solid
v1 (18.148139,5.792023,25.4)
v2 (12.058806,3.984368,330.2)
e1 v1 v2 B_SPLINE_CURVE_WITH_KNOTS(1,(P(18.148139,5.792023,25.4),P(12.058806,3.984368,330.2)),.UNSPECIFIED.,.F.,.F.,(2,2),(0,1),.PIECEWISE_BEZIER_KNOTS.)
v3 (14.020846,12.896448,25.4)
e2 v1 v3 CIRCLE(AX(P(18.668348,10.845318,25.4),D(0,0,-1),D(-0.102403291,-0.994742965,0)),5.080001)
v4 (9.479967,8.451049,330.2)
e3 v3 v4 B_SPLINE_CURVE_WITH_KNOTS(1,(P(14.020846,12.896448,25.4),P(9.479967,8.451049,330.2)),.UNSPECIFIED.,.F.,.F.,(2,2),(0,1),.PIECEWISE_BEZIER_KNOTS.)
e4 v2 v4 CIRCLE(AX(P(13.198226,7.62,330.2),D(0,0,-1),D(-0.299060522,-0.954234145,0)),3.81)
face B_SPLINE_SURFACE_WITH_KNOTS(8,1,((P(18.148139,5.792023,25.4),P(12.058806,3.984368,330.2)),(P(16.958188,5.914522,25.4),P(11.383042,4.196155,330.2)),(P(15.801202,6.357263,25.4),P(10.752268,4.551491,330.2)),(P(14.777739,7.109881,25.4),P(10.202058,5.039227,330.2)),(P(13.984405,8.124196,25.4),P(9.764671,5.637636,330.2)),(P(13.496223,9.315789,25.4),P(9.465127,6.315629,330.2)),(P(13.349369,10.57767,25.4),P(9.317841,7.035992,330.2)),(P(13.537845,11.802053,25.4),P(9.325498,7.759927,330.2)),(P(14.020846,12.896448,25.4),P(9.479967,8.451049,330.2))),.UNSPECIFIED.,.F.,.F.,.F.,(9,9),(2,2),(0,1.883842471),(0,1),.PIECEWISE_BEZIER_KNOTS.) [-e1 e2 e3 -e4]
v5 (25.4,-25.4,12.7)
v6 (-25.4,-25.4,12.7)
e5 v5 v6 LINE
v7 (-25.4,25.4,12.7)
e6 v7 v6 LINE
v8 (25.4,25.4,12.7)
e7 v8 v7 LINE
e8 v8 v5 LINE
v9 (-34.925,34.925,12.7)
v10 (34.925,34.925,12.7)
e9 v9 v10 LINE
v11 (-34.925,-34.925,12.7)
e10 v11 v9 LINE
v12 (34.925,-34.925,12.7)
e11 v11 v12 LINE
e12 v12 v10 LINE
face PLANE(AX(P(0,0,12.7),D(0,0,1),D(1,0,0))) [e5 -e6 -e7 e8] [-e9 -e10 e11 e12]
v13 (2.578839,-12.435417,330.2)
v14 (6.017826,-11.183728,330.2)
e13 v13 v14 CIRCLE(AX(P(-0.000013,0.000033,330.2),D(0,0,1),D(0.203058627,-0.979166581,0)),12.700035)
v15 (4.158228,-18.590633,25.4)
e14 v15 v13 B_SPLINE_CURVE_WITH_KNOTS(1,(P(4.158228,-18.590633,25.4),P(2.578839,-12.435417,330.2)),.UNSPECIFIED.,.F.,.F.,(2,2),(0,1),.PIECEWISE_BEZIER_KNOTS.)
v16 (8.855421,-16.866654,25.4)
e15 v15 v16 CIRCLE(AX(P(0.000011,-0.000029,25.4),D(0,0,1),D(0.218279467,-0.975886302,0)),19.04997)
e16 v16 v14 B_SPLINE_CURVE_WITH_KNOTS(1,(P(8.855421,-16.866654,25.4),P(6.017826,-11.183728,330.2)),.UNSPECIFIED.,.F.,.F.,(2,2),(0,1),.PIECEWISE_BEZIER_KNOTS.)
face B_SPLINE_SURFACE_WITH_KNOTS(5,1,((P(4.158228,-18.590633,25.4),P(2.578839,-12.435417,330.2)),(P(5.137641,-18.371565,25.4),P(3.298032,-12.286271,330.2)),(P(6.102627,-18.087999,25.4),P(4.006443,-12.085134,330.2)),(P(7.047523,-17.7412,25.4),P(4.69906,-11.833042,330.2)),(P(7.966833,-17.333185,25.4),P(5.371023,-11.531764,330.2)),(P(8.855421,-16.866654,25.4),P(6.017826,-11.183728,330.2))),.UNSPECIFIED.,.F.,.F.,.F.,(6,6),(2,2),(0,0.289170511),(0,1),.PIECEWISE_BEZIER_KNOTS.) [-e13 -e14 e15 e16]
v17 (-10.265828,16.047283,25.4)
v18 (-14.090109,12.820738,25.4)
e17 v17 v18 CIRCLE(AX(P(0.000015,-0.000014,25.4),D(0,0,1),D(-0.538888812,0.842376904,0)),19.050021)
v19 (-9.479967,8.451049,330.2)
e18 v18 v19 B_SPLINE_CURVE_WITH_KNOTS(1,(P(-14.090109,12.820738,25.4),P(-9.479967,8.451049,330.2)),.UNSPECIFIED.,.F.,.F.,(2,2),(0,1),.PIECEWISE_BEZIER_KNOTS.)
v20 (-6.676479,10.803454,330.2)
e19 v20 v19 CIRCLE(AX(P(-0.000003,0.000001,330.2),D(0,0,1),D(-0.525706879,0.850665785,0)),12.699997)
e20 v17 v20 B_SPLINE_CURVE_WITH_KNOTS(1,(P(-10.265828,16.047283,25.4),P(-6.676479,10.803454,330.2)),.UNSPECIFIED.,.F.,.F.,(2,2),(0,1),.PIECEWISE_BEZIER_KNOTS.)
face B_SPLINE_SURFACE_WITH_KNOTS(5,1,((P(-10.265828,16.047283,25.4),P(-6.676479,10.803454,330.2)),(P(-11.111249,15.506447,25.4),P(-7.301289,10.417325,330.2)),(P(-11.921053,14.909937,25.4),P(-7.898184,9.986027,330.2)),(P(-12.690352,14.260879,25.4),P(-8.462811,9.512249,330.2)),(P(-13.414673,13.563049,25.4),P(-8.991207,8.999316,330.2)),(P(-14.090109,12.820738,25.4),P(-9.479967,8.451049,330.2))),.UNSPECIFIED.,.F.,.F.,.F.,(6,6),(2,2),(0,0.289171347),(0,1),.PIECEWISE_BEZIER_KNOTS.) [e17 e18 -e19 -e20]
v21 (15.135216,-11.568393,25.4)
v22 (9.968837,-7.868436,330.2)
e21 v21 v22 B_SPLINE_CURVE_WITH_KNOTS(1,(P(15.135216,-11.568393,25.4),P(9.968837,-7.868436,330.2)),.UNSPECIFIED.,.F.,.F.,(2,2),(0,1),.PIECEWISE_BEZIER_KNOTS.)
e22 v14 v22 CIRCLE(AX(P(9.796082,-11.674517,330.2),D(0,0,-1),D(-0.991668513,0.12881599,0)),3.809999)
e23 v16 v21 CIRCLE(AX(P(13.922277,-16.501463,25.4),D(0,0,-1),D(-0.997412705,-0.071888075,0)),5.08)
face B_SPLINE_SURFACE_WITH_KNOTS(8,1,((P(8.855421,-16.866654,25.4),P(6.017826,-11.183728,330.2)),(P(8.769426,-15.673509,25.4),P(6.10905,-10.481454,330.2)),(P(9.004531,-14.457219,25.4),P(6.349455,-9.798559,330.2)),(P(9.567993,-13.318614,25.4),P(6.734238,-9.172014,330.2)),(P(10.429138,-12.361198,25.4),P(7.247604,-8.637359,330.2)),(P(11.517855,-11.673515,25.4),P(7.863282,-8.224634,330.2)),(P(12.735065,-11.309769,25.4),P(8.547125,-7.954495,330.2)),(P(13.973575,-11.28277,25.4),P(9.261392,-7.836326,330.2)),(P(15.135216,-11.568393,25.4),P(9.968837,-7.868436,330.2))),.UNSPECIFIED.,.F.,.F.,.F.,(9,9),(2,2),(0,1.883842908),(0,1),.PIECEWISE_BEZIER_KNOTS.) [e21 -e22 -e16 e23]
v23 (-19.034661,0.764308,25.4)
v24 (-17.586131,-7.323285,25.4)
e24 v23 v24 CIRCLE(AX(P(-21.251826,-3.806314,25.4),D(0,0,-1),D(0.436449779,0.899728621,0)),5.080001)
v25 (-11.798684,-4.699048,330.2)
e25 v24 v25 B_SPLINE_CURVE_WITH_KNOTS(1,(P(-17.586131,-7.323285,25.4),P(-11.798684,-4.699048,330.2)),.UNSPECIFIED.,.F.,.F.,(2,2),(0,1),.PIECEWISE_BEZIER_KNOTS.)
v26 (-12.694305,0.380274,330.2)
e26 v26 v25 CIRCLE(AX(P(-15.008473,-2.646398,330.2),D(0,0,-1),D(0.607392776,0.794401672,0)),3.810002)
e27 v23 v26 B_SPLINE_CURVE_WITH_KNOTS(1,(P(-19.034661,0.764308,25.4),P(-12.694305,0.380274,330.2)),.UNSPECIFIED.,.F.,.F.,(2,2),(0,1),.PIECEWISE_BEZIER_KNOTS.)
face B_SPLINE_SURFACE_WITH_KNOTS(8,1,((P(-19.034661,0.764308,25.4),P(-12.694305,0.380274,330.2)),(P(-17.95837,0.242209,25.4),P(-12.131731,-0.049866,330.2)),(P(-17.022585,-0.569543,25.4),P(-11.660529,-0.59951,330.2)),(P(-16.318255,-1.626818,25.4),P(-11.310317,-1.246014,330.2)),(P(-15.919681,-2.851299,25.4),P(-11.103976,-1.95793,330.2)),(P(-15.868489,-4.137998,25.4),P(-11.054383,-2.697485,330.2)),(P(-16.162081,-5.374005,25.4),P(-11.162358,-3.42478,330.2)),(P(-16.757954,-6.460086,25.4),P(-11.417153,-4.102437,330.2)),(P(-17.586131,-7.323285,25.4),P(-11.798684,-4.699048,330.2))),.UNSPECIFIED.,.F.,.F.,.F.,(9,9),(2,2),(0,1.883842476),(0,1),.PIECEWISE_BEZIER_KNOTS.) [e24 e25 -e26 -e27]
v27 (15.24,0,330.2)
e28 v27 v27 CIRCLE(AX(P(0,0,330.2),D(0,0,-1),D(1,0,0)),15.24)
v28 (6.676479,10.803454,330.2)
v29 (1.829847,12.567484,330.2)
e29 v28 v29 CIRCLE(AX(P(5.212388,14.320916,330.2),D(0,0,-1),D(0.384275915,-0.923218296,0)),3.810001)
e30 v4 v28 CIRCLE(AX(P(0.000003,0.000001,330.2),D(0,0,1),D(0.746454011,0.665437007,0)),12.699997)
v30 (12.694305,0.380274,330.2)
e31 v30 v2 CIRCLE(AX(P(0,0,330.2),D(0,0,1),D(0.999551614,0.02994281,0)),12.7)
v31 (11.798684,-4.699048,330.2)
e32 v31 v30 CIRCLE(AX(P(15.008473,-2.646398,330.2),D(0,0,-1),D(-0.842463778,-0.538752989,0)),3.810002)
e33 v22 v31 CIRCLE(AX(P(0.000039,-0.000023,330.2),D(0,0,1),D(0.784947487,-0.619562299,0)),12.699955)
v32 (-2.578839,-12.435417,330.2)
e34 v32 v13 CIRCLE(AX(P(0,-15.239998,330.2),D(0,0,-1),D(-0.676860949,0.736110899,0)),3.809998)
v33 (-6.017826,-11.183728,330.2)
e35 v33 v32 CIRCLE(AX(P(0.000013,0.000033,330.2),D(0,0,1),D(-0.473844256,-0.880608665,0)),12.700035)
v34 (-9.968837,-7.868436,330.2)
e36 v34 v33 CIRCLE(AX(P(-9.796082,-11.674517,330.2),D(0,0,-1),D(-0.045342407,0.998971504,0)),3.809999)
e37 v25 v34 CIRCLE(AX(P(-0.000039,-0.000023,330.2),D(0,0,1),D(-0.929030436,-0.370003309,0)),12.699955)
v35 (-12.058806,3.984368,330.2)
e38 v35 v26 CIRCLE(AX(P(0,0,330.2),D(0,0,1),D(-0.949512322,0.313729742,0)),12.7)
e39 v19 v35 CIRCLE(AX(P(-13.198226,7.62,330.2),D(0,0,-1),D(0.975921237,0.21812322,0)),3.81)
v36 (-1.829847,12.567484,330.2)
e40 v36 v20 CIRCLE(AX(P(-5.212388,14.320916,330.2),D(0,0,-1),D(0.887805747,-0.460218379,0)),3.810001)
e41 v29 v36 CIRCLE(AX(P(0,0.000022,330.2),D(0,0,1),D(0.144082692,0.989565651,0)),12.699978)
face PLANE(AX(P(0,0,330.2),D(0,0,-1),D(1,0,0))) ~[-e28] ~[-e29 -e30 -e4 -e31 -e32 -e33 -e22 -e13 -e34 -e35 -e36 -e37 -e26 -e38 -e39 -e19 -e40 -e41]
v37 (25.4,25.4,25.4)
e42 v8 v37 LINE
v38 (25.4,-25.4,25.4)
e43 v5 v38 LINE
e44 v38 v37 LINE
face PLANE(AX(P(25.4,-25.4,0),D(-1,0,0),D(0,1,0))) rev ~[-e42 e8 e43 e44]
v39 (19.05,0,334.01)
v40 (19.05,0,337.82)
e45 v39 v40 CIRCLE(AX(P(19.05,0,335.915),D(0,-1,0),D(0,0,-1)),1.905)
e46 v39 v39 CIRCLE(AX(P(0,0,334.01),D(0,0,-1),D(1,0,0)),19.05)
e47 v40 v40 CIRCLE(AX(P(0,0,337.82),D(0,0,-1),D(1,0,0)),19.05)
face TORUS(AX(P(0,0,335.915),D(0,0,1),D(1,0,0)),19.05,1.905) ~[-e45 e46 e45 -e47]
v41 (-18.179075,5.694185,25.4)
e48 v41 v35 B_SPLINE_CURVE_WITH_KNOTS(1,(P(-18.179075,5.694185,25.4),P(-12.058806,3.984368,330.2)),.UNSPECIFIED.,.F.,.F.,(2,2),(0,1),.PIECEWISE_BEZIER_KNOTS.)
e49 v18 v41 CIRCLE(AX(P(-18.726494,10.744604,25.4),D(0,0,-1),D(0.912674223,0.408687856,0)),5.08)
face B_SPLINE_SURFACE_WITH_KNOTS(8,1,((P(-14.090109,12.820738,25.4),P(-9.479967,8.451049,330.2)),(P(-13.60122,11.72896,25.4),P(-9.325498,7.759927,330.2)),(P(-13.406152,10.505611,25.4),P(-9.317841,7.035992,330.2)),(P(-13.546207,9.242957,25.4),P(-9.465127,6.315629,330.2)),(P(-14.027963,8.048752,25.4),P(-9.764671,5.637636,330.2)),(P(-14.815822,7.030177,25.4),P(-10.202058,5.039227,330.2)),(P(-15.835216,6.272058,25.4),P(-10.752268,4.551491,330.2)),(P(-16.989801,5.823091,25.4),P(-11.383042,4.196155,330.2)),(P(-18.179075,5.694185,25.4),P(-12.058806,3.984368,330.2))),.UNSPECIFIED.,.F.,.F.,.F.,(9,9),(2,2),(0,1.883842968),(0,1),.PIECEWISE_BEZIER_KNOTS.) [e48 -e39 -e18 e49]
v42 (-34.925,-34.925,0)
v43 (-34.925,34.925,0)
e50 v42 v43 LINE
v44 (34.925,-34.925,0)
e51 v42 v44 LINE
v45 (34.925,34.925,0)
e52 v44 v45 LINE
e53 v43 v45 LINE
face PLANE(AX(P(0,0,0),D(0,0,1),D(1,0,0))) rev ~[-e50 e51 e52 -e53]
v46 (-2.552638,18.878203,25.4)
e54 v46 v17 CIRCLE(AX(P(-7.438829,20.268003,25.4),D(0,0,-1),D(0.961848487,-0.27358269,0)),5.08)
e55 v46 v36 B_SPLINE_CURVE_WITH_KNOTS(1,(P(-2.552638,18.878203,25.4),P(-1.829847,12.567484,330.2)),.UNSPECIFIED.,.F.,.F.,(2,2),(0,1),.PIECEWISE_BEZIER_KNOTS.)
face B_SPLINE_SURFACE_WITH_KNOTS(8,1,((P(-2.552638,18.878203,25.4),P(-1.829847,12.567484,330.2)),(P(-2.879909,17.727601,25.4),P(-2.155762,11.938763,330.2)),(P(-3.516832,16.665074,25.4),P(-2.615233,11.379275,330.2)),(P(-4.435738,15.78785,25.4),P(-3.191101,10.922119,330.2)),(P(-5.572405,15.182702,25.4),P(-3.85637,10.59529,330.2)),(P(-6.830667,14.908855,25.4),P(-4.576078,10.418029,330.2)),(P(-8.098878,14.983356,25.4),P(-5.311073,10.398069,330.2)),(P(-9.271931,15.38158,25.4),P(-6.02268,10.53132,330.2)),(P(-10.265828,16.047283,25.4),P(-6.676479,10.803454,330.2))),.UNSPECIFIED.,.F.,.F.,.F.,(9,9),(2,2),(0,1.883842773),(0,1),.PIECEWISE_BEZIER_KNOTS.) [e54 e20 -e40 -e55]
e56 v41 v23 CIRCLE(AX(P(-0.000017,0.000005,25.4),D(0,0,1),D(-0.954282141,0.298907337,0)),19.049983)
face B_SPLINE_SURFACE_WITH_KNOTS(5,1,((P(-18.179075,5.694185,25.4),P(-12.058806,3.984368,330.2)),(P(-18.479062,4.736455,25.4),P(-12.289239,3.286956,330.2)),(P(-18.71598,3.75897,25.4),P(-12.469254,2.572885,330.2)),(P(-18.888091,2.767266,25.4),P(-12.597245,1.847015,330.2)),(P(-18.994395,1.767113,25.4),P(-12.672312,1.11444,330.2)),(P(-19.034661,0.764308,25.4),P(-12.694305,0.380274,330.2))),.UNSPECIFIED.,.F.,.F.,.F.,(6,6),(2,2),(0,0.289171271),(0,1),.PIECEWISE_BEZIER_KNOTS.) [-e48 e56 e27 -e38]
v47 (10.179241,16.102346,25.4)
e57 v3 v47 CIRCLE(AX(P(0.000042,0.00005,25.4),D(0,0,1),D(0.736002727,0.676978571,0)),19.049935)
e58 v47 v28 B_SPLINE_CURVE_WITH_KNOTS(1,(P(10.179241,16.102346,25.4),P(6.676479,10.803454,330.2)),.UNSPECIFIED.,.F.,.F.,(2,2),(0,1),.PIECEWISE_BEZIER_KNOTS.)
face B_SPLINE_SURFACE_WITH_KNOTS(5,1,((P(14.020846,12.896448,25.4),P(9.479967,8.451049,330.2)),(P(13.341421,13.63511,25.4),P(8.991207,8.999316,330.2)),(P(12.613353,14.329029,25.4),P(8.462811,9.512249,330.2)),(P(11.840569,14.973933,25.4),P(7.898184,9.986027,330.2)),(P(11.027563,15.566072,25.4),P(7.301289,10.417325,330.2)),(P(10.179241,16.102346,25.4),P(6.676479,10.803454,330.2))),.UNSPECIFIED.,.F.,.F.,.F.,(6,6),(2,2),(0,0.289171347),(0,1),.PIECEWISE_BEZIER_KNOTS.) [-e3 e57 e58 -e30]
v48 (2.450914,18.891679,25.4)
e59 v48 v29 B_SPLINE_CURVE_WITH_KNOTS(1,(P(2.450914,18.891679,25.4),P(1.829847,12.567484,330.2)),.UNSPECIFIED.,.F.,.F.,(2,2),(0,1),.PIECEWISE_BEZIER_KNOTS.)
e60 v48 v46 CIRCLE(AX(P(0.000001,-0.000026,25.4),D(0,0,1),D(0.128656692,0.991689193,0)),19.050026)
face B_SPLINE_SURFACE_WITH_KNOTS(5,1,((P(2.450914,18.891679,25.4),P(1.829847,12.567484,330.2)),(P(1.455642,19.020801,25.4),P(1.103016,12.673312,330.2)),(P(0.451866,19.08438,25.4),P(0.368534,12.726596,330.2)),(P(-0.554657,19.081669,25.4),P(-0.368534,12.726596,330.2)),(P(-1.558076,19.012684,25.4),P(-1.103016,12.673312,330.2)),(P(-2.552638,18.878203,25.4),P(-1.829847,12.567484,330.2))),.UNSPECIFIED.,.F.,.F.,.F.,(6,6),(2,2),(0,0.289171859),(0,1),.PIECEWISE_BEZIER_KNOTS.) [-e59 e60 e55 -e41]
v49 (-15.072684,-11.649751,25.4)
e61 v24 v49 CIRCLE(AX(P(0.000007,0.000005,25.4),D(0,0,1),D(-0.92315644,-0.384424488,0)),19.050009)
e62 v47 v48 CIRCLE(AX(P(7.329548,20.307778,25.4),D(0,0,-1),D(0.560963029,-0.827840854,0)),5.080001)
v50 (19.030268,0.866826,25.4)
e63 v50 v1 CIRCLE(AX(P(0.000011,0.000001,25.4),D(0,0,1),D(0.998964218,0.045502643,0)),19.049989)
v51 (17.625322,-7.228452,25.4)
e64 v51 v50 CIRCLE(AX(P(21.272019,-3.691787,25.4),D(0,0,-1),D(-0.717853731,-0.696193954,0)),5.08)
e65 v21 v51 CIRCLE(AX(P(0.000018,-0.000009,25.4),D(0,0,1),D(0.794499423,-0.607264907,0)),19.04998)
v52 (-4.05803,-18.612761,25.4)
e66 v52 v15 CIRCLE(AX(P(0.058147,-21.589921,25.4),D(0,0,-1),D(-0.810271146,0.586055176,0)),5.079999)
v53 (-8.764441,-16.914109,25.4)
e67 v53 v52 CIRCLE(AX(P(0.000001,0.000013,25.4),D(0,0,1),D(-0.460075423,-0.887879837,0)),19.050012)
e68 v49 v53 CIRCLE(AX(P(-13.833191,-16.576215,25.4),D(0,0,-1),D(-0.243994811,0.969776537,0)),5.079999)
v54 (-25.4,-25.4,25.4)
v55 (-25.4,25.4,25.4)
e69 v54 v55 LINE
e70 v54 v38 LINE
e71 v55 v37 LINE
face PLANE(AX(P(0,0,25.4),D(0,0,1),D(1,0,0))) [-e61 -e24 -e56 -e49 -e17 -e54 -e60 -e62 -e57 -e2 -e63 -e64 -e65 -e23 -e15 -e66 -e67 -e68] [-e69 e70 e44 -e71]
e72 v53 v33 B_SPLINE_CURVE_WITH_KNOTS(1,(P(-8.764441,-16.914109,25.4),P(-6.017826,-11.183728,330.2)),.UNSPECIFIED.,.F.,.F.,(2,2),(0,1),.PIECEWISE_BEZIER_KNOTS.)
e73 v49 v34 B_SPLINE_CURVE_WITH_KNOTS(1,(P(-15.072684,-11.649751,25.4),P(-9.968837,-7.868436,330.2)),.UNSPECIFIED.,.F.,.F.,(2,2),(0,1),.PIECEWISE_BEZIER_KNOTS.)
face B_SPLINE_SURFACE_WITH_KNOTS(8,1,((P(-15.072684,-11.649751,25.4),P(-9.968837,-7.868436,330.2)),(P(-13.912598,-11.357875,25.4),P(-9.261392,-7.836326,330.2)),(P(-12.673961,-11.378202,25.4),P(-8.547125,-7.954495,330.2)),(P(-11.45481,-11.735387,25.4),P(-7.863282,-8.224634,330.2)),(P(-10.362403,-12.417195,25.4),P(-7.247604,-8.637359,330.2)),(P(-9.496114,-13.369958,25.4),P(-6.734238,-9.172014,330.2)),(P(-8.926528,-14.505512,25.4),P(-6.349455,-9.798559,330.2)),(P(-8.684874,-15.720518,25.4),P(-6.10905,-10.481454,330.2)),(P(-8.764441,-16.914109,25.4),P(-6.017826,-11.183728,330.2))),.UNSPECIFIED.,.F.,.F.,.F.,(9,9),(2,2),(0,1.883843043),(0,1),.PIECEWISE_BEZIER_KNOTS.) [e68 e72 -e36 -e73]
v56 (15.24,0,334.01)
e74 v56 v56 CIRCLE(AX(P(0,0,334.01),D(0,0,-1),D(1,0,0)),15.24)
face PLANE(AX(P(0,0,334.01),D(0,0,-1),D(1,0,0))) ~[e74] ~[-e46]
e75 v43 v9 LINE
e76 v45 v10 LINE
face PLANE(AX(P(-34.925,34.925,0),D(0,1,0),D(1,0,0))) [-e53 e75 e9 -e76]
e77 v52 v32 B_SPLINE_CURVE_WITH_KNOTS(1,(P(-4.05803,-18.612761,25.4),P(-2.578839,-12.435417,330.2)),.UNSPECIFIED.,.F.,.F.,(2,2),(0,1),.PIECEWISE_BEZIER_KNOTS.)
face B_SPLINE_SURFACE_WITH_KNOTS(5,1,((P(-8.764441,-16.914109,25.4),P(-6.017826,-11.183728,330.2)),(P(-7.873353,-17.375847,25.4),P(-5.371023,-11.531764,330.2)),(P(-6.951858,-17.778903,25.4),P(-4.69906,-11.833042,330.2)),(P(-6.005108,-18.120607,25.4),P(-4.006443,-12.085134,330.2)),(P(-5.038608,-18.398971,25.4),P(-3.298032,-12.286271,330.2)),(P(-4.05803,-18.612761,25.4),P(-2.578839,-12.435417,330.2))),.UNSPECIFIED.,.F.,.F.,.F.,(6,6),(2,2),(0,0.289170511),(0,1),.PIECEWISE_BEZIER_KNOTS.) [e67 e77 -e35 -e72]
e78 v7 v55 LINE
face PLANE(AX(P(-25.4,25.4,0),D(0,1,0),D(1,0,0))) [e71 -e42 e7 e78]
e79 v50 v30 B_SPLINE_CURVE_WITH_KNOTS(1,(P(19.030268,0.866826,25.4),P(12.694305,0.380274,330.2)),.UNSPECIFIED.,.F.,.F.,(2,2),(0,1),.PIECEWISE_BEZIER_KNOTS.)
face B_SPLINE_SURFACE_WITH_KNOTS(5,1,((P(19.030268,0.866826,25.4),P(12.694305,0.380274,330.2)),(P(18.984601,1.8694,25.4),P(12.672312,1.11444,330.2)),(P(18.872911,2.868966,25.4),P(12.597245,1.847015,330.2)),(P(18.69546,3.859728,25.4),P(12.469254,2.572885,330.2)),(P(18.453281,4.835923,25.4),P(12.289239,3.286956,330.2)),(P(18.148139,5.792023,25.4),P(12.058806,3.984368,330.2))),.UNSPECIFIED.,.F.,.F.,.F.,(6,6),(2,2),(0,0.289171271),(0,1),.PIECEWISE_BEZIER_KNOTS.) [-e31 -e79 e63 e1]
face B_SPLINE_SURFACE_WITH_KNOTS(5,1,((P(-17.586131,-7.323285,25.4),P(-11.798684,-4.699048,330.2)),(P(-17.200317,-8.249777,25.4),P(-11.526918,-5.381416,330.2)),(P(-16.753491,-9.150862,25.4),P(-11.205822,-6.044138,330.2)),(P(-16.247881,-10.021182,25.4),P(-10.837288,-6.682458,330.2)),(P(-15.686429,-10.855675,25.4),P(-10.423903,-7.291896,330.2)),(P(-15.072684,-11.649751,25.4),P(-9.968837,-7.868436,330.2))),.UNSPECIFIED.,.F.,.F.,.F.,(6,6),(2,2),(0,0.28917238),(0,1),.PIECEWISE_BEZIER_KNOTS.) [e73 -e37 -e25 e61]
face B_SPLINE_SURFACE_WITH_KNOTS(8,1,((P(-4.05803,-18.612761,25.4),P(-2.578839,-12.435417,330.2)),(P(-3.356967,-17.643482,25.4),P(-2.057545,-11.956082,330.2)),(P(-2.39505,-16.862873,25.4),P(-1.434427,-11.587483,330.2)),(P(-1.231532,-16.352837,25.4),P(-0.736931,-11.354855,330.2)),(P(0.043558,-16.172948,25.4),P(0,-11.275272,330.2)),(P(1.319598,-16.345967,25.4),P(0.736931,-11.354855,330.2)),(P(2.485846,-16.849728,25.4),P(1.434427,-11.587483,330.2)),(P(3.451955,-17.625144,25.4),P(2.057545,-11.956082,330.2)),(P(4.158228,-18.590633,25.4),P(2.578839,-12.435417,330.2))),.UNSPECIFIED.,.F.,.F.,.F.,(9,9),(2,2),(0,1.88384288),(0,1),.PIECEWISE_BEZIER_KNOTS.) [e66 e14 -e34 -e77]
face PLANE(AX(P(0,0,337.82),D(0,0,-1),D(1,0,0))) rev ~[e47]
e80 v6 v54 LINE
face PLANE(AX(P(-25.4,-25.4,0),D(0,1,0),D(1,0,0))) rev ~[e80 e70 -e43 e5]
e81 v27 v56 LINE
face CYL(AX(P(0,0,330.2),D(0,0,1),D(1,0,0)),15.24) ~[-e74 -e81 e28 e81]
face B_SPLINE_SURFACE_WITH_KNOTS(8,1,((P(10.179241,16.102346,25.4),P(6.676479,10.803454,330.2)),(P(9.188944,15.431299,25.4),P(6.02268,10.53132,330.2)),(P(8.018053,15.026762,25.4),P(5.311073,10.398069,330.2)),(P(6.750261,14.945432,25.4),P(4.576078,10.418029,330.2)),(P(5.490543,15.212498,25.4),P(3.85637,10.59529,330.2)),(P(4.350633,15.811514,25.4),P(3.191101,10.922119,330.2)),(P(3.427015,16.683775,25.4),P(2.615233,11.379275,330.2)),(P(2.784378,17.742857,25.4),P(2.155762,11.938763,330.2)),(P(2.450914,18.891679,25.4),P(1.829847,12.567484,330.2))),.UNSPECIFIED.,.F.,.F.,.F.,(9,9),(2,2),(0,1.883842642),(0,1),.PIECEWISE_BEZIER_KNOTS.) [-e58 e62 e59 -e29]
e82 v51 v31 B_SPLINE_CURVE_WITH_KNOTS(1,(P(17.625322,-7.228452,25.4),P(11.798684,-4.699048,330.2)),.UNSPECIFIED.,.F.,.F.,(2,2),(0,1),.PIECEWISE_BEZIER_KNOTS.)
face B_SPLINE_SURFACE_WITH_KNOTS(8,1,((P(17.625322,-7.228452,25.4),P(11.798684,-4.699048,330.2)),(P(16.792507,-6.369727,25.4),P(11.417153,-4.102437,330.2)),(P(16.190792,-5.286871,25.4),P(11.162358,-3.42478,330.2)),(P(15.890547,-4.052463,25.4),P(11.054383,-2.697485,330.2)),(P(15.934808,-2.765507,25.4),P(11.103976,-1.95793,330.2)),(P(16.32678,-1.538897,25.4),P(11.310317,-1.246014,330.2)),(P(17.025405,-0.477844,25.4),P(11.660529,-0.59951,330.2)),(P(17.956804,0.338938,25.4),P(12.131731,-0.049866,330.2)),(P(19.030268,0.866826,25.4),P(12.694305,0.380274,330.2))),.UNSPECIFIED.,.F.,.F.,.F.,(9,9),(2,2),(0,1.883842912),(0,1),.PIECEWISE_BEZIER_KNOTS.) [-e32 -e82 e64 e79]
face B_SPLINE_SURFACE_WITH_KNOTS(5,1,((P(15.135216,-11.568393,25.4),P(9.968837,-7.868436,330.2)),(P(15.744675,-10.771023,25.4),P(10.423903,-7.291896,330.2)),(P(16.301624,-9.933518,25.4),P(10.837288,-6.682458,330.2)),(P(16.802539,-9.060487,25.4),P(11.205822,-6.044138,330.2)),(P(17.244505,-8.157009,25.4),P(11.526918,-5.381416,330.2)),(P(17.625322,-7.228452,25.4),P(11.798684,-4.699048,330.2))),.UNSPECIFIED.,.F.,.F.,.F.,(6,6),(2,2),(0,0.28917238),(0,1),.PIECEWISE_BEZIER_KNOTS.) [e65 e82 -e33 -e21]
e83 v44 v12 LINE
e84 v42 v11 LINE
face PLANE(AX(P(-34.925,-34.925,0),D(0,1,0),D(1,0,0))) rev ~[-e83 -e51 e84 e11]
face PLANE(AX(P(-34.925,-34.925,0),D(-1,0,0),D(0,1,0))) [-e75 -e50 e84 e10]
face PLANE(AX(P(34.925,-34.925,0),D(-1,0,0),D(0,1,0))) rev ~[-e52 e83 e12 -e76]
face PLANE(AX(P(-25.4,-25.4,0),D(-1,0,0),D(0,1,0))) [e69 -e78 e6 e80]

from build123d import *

# Parameters (mm, degrees)
F0_W     = 69.85
F0_H     = 69.85
F0_W_2   = 50.8
F0_H_2   = 50.8
F1_DEPTH = 12.7
F2_DEPTH = 25.4


with BuildPart() as f1:
    # F0 (on Top) → F1 (new body)
    with BuildSketch(Plane.XY):
        Rectangle(F0_W, F0_H)
        Rectangle(F0_W_2, F0_H_2, mode=Mode.SUBTRACT)
        Rectangle(F0_W_2, F0_H_2)
    extrude(amount=F1_DEPTH)

    # F0 (on Top) → F2 (join)
    with BuildSketch(Plane.XY):
        Rectangle(F0_W_2, F0_H_2)
    extrude(amount=F2_DEPTH)

    # F4 (on face) → F6 section 0
    with BuildSketch(Plane.XY.offset(25.4)):
        with BuildLine():
            ThreePointArc((17.625322, -7.228452), (16.266838, -2.823131), (19.030268, 0.866826))
            ThreePointArc((19.030268, 0.866826), (18.75161, 3.358513), (18.148139, 5.792023))
            ThreePointArc((18.148139, 5.792023), (14.275795, 8.293478), (14.020846, 12.896448))
            ThreePointArc((14.020846, 12.896448), (12.205757, 14.626073), (10.179241, 16.102346))
            ThreePointArc((10.179241, 16.102346), (5.604948, 15.529477), (2.450914, 18.891679))
            ThreePointArc((2.450914, 18.891679), (-0.051306, 19.049931), (-2.552638, 18.878203))
            ThreePointArc((-2.552638, 18.878203), (-5.688516, 15.499061), (-10.265828, 16.047283))
            ThreePointArc((-10.265828, 16.047283), (-12.284362, 14.560115), (-14.090109, 12.820738))
            ThreePointArc((-14.090109, 12.820738), (-14.32026, 8.216462), (-18.179075, 5.694185))
            ThreePointArc((-18.179075, 5.694185), (-18.769429, 3.257459), (-19.034661, 0.764308))
            ThreePointArc((-19.034661, 0.764308), (-16.251396, -2.910711), (-17.586131, -7.323285))
            ThreePointArc((-17.586131, -7.323285), (-16.472071, -9.569398), (-15.072684, -11.649751))
            ThreePointArc((-15.072684, -11.649751), (-10.578322, -12.67593), (-8.764441, -16.914109))
            ThreePointArc((-8.764441, -16.914109), (-6.467248, -17.918627), (-4.05803, -18.612761))
            ThreePointArc((-4.05803, -18.612761), (0.044465, -16.50994), (4.158228, -18.590633))
            ThreePointArc((4.158228, -18.590633), (6.563672, -17.883532), (8.855421, -16.866654))
            ThreePointArc((8.855421, -16.866654), (10.646447, -12.618766), (15.135216, -11.568393))
            ThreePointArc((15.135216, -11.568393), (16.523377, -9.480533), (17.625322, -7.228452))
        make_face()
    # F5 (on offset) → F6 section 1
    with BuildSketch(Plane.XY.offset(330.2)):
        with BuildLine():
            ThreePointArc((11.798684, -4.699048), (11.256353, -1.984799), (12.694305, 0.380274))
            ThreePointArc((12.694305, 0.380274), (12.507058, 2.205332), (12.058806, 3.984368))
            ThreePointArc((12.058806, 3.984368), (9.89867, 5.715), (9.479967, 8.451049))
            ThreePointArc((9.479967, 8.451049), (8.163403, 9.728764), (6.676479, 10.803454))
            ThreePointArc((6.676479, 10.803454), (3.90929, 10.740687), (1.829847, 12.567484))
            ThreePointArc((1.829847, 12.567484), (0, 12.7), (-1.829847, 12.567484))
            ThreePointArc((-1.829847, 12.567484), (-3.90929, 10.740687), (-6.676479, 10.803454))
            ThreePointArc((-6.676479, 10.803454), (-8.163403, 9.728764), (-9.479967, 8.451049))
            ThreePointArc((-9.479967, 8.451049), (-9.89867, 5.715), (-12.058806, 3.984368))
            ThreePointArc((-12.058806, 3.984368), (-12.507058, 2.205332), (-12.694305, 0.380274))
            ThreePointArc((-12.694305, 0.380274), (-11.256353, -1.984799), (-11.798684, -4.699048))
            ThreePointArc((-11.798684, -4.699048), (-10.998523, -6.35), (-9.968837, -7.868436))
            ThreePointArc((-9.968837, -7.868436), (-7.347062, -8.755888), (-6.017826, -11.183728))
            ThreePointArc((-6.017826, -11.183728), (-4.343656, -11.934096), (-2.578839, -12.435417))
            ThreePointArc((-2.578839, -12.435417), (0, -11.43), (2.578839, -12.435417))
            ThreePointArc((2.578839, -12.435417), (4.343656, -11.934096), (6.017826, -11.183728))
            ThreePointArc((6.017826, -11.183728), (7.347062, -8.755888), (9.968837, -7.868436))
            ThreePointArc((9.968837, -7.868436), (10.998523, -6.35), (11.798684, -4.699048))
        make_face()
    loft()

    # F7 (on Front) → F8 (revolve)
    with BuildSketch(Plane.XZ):
        with BuildLine():
            Line((0, 337.82), (0, 330.2))
            Line((0, 330.2), (15.24, 330.2))
            Line((15.24, 330.2), (15.24, 334.01))
            Line((15.24, 334.01), (19.05, 334.01))
            ThreePointArc((19.05, 334.01), (20.955, 335.915), (19.05, 337.82))
            Line((19.05, 337.82), (0, 337.82))
        make_face()
    revolve(axis=Axis((0, 0, 334.01), (0, 0, -1)))


solid = f1.part
